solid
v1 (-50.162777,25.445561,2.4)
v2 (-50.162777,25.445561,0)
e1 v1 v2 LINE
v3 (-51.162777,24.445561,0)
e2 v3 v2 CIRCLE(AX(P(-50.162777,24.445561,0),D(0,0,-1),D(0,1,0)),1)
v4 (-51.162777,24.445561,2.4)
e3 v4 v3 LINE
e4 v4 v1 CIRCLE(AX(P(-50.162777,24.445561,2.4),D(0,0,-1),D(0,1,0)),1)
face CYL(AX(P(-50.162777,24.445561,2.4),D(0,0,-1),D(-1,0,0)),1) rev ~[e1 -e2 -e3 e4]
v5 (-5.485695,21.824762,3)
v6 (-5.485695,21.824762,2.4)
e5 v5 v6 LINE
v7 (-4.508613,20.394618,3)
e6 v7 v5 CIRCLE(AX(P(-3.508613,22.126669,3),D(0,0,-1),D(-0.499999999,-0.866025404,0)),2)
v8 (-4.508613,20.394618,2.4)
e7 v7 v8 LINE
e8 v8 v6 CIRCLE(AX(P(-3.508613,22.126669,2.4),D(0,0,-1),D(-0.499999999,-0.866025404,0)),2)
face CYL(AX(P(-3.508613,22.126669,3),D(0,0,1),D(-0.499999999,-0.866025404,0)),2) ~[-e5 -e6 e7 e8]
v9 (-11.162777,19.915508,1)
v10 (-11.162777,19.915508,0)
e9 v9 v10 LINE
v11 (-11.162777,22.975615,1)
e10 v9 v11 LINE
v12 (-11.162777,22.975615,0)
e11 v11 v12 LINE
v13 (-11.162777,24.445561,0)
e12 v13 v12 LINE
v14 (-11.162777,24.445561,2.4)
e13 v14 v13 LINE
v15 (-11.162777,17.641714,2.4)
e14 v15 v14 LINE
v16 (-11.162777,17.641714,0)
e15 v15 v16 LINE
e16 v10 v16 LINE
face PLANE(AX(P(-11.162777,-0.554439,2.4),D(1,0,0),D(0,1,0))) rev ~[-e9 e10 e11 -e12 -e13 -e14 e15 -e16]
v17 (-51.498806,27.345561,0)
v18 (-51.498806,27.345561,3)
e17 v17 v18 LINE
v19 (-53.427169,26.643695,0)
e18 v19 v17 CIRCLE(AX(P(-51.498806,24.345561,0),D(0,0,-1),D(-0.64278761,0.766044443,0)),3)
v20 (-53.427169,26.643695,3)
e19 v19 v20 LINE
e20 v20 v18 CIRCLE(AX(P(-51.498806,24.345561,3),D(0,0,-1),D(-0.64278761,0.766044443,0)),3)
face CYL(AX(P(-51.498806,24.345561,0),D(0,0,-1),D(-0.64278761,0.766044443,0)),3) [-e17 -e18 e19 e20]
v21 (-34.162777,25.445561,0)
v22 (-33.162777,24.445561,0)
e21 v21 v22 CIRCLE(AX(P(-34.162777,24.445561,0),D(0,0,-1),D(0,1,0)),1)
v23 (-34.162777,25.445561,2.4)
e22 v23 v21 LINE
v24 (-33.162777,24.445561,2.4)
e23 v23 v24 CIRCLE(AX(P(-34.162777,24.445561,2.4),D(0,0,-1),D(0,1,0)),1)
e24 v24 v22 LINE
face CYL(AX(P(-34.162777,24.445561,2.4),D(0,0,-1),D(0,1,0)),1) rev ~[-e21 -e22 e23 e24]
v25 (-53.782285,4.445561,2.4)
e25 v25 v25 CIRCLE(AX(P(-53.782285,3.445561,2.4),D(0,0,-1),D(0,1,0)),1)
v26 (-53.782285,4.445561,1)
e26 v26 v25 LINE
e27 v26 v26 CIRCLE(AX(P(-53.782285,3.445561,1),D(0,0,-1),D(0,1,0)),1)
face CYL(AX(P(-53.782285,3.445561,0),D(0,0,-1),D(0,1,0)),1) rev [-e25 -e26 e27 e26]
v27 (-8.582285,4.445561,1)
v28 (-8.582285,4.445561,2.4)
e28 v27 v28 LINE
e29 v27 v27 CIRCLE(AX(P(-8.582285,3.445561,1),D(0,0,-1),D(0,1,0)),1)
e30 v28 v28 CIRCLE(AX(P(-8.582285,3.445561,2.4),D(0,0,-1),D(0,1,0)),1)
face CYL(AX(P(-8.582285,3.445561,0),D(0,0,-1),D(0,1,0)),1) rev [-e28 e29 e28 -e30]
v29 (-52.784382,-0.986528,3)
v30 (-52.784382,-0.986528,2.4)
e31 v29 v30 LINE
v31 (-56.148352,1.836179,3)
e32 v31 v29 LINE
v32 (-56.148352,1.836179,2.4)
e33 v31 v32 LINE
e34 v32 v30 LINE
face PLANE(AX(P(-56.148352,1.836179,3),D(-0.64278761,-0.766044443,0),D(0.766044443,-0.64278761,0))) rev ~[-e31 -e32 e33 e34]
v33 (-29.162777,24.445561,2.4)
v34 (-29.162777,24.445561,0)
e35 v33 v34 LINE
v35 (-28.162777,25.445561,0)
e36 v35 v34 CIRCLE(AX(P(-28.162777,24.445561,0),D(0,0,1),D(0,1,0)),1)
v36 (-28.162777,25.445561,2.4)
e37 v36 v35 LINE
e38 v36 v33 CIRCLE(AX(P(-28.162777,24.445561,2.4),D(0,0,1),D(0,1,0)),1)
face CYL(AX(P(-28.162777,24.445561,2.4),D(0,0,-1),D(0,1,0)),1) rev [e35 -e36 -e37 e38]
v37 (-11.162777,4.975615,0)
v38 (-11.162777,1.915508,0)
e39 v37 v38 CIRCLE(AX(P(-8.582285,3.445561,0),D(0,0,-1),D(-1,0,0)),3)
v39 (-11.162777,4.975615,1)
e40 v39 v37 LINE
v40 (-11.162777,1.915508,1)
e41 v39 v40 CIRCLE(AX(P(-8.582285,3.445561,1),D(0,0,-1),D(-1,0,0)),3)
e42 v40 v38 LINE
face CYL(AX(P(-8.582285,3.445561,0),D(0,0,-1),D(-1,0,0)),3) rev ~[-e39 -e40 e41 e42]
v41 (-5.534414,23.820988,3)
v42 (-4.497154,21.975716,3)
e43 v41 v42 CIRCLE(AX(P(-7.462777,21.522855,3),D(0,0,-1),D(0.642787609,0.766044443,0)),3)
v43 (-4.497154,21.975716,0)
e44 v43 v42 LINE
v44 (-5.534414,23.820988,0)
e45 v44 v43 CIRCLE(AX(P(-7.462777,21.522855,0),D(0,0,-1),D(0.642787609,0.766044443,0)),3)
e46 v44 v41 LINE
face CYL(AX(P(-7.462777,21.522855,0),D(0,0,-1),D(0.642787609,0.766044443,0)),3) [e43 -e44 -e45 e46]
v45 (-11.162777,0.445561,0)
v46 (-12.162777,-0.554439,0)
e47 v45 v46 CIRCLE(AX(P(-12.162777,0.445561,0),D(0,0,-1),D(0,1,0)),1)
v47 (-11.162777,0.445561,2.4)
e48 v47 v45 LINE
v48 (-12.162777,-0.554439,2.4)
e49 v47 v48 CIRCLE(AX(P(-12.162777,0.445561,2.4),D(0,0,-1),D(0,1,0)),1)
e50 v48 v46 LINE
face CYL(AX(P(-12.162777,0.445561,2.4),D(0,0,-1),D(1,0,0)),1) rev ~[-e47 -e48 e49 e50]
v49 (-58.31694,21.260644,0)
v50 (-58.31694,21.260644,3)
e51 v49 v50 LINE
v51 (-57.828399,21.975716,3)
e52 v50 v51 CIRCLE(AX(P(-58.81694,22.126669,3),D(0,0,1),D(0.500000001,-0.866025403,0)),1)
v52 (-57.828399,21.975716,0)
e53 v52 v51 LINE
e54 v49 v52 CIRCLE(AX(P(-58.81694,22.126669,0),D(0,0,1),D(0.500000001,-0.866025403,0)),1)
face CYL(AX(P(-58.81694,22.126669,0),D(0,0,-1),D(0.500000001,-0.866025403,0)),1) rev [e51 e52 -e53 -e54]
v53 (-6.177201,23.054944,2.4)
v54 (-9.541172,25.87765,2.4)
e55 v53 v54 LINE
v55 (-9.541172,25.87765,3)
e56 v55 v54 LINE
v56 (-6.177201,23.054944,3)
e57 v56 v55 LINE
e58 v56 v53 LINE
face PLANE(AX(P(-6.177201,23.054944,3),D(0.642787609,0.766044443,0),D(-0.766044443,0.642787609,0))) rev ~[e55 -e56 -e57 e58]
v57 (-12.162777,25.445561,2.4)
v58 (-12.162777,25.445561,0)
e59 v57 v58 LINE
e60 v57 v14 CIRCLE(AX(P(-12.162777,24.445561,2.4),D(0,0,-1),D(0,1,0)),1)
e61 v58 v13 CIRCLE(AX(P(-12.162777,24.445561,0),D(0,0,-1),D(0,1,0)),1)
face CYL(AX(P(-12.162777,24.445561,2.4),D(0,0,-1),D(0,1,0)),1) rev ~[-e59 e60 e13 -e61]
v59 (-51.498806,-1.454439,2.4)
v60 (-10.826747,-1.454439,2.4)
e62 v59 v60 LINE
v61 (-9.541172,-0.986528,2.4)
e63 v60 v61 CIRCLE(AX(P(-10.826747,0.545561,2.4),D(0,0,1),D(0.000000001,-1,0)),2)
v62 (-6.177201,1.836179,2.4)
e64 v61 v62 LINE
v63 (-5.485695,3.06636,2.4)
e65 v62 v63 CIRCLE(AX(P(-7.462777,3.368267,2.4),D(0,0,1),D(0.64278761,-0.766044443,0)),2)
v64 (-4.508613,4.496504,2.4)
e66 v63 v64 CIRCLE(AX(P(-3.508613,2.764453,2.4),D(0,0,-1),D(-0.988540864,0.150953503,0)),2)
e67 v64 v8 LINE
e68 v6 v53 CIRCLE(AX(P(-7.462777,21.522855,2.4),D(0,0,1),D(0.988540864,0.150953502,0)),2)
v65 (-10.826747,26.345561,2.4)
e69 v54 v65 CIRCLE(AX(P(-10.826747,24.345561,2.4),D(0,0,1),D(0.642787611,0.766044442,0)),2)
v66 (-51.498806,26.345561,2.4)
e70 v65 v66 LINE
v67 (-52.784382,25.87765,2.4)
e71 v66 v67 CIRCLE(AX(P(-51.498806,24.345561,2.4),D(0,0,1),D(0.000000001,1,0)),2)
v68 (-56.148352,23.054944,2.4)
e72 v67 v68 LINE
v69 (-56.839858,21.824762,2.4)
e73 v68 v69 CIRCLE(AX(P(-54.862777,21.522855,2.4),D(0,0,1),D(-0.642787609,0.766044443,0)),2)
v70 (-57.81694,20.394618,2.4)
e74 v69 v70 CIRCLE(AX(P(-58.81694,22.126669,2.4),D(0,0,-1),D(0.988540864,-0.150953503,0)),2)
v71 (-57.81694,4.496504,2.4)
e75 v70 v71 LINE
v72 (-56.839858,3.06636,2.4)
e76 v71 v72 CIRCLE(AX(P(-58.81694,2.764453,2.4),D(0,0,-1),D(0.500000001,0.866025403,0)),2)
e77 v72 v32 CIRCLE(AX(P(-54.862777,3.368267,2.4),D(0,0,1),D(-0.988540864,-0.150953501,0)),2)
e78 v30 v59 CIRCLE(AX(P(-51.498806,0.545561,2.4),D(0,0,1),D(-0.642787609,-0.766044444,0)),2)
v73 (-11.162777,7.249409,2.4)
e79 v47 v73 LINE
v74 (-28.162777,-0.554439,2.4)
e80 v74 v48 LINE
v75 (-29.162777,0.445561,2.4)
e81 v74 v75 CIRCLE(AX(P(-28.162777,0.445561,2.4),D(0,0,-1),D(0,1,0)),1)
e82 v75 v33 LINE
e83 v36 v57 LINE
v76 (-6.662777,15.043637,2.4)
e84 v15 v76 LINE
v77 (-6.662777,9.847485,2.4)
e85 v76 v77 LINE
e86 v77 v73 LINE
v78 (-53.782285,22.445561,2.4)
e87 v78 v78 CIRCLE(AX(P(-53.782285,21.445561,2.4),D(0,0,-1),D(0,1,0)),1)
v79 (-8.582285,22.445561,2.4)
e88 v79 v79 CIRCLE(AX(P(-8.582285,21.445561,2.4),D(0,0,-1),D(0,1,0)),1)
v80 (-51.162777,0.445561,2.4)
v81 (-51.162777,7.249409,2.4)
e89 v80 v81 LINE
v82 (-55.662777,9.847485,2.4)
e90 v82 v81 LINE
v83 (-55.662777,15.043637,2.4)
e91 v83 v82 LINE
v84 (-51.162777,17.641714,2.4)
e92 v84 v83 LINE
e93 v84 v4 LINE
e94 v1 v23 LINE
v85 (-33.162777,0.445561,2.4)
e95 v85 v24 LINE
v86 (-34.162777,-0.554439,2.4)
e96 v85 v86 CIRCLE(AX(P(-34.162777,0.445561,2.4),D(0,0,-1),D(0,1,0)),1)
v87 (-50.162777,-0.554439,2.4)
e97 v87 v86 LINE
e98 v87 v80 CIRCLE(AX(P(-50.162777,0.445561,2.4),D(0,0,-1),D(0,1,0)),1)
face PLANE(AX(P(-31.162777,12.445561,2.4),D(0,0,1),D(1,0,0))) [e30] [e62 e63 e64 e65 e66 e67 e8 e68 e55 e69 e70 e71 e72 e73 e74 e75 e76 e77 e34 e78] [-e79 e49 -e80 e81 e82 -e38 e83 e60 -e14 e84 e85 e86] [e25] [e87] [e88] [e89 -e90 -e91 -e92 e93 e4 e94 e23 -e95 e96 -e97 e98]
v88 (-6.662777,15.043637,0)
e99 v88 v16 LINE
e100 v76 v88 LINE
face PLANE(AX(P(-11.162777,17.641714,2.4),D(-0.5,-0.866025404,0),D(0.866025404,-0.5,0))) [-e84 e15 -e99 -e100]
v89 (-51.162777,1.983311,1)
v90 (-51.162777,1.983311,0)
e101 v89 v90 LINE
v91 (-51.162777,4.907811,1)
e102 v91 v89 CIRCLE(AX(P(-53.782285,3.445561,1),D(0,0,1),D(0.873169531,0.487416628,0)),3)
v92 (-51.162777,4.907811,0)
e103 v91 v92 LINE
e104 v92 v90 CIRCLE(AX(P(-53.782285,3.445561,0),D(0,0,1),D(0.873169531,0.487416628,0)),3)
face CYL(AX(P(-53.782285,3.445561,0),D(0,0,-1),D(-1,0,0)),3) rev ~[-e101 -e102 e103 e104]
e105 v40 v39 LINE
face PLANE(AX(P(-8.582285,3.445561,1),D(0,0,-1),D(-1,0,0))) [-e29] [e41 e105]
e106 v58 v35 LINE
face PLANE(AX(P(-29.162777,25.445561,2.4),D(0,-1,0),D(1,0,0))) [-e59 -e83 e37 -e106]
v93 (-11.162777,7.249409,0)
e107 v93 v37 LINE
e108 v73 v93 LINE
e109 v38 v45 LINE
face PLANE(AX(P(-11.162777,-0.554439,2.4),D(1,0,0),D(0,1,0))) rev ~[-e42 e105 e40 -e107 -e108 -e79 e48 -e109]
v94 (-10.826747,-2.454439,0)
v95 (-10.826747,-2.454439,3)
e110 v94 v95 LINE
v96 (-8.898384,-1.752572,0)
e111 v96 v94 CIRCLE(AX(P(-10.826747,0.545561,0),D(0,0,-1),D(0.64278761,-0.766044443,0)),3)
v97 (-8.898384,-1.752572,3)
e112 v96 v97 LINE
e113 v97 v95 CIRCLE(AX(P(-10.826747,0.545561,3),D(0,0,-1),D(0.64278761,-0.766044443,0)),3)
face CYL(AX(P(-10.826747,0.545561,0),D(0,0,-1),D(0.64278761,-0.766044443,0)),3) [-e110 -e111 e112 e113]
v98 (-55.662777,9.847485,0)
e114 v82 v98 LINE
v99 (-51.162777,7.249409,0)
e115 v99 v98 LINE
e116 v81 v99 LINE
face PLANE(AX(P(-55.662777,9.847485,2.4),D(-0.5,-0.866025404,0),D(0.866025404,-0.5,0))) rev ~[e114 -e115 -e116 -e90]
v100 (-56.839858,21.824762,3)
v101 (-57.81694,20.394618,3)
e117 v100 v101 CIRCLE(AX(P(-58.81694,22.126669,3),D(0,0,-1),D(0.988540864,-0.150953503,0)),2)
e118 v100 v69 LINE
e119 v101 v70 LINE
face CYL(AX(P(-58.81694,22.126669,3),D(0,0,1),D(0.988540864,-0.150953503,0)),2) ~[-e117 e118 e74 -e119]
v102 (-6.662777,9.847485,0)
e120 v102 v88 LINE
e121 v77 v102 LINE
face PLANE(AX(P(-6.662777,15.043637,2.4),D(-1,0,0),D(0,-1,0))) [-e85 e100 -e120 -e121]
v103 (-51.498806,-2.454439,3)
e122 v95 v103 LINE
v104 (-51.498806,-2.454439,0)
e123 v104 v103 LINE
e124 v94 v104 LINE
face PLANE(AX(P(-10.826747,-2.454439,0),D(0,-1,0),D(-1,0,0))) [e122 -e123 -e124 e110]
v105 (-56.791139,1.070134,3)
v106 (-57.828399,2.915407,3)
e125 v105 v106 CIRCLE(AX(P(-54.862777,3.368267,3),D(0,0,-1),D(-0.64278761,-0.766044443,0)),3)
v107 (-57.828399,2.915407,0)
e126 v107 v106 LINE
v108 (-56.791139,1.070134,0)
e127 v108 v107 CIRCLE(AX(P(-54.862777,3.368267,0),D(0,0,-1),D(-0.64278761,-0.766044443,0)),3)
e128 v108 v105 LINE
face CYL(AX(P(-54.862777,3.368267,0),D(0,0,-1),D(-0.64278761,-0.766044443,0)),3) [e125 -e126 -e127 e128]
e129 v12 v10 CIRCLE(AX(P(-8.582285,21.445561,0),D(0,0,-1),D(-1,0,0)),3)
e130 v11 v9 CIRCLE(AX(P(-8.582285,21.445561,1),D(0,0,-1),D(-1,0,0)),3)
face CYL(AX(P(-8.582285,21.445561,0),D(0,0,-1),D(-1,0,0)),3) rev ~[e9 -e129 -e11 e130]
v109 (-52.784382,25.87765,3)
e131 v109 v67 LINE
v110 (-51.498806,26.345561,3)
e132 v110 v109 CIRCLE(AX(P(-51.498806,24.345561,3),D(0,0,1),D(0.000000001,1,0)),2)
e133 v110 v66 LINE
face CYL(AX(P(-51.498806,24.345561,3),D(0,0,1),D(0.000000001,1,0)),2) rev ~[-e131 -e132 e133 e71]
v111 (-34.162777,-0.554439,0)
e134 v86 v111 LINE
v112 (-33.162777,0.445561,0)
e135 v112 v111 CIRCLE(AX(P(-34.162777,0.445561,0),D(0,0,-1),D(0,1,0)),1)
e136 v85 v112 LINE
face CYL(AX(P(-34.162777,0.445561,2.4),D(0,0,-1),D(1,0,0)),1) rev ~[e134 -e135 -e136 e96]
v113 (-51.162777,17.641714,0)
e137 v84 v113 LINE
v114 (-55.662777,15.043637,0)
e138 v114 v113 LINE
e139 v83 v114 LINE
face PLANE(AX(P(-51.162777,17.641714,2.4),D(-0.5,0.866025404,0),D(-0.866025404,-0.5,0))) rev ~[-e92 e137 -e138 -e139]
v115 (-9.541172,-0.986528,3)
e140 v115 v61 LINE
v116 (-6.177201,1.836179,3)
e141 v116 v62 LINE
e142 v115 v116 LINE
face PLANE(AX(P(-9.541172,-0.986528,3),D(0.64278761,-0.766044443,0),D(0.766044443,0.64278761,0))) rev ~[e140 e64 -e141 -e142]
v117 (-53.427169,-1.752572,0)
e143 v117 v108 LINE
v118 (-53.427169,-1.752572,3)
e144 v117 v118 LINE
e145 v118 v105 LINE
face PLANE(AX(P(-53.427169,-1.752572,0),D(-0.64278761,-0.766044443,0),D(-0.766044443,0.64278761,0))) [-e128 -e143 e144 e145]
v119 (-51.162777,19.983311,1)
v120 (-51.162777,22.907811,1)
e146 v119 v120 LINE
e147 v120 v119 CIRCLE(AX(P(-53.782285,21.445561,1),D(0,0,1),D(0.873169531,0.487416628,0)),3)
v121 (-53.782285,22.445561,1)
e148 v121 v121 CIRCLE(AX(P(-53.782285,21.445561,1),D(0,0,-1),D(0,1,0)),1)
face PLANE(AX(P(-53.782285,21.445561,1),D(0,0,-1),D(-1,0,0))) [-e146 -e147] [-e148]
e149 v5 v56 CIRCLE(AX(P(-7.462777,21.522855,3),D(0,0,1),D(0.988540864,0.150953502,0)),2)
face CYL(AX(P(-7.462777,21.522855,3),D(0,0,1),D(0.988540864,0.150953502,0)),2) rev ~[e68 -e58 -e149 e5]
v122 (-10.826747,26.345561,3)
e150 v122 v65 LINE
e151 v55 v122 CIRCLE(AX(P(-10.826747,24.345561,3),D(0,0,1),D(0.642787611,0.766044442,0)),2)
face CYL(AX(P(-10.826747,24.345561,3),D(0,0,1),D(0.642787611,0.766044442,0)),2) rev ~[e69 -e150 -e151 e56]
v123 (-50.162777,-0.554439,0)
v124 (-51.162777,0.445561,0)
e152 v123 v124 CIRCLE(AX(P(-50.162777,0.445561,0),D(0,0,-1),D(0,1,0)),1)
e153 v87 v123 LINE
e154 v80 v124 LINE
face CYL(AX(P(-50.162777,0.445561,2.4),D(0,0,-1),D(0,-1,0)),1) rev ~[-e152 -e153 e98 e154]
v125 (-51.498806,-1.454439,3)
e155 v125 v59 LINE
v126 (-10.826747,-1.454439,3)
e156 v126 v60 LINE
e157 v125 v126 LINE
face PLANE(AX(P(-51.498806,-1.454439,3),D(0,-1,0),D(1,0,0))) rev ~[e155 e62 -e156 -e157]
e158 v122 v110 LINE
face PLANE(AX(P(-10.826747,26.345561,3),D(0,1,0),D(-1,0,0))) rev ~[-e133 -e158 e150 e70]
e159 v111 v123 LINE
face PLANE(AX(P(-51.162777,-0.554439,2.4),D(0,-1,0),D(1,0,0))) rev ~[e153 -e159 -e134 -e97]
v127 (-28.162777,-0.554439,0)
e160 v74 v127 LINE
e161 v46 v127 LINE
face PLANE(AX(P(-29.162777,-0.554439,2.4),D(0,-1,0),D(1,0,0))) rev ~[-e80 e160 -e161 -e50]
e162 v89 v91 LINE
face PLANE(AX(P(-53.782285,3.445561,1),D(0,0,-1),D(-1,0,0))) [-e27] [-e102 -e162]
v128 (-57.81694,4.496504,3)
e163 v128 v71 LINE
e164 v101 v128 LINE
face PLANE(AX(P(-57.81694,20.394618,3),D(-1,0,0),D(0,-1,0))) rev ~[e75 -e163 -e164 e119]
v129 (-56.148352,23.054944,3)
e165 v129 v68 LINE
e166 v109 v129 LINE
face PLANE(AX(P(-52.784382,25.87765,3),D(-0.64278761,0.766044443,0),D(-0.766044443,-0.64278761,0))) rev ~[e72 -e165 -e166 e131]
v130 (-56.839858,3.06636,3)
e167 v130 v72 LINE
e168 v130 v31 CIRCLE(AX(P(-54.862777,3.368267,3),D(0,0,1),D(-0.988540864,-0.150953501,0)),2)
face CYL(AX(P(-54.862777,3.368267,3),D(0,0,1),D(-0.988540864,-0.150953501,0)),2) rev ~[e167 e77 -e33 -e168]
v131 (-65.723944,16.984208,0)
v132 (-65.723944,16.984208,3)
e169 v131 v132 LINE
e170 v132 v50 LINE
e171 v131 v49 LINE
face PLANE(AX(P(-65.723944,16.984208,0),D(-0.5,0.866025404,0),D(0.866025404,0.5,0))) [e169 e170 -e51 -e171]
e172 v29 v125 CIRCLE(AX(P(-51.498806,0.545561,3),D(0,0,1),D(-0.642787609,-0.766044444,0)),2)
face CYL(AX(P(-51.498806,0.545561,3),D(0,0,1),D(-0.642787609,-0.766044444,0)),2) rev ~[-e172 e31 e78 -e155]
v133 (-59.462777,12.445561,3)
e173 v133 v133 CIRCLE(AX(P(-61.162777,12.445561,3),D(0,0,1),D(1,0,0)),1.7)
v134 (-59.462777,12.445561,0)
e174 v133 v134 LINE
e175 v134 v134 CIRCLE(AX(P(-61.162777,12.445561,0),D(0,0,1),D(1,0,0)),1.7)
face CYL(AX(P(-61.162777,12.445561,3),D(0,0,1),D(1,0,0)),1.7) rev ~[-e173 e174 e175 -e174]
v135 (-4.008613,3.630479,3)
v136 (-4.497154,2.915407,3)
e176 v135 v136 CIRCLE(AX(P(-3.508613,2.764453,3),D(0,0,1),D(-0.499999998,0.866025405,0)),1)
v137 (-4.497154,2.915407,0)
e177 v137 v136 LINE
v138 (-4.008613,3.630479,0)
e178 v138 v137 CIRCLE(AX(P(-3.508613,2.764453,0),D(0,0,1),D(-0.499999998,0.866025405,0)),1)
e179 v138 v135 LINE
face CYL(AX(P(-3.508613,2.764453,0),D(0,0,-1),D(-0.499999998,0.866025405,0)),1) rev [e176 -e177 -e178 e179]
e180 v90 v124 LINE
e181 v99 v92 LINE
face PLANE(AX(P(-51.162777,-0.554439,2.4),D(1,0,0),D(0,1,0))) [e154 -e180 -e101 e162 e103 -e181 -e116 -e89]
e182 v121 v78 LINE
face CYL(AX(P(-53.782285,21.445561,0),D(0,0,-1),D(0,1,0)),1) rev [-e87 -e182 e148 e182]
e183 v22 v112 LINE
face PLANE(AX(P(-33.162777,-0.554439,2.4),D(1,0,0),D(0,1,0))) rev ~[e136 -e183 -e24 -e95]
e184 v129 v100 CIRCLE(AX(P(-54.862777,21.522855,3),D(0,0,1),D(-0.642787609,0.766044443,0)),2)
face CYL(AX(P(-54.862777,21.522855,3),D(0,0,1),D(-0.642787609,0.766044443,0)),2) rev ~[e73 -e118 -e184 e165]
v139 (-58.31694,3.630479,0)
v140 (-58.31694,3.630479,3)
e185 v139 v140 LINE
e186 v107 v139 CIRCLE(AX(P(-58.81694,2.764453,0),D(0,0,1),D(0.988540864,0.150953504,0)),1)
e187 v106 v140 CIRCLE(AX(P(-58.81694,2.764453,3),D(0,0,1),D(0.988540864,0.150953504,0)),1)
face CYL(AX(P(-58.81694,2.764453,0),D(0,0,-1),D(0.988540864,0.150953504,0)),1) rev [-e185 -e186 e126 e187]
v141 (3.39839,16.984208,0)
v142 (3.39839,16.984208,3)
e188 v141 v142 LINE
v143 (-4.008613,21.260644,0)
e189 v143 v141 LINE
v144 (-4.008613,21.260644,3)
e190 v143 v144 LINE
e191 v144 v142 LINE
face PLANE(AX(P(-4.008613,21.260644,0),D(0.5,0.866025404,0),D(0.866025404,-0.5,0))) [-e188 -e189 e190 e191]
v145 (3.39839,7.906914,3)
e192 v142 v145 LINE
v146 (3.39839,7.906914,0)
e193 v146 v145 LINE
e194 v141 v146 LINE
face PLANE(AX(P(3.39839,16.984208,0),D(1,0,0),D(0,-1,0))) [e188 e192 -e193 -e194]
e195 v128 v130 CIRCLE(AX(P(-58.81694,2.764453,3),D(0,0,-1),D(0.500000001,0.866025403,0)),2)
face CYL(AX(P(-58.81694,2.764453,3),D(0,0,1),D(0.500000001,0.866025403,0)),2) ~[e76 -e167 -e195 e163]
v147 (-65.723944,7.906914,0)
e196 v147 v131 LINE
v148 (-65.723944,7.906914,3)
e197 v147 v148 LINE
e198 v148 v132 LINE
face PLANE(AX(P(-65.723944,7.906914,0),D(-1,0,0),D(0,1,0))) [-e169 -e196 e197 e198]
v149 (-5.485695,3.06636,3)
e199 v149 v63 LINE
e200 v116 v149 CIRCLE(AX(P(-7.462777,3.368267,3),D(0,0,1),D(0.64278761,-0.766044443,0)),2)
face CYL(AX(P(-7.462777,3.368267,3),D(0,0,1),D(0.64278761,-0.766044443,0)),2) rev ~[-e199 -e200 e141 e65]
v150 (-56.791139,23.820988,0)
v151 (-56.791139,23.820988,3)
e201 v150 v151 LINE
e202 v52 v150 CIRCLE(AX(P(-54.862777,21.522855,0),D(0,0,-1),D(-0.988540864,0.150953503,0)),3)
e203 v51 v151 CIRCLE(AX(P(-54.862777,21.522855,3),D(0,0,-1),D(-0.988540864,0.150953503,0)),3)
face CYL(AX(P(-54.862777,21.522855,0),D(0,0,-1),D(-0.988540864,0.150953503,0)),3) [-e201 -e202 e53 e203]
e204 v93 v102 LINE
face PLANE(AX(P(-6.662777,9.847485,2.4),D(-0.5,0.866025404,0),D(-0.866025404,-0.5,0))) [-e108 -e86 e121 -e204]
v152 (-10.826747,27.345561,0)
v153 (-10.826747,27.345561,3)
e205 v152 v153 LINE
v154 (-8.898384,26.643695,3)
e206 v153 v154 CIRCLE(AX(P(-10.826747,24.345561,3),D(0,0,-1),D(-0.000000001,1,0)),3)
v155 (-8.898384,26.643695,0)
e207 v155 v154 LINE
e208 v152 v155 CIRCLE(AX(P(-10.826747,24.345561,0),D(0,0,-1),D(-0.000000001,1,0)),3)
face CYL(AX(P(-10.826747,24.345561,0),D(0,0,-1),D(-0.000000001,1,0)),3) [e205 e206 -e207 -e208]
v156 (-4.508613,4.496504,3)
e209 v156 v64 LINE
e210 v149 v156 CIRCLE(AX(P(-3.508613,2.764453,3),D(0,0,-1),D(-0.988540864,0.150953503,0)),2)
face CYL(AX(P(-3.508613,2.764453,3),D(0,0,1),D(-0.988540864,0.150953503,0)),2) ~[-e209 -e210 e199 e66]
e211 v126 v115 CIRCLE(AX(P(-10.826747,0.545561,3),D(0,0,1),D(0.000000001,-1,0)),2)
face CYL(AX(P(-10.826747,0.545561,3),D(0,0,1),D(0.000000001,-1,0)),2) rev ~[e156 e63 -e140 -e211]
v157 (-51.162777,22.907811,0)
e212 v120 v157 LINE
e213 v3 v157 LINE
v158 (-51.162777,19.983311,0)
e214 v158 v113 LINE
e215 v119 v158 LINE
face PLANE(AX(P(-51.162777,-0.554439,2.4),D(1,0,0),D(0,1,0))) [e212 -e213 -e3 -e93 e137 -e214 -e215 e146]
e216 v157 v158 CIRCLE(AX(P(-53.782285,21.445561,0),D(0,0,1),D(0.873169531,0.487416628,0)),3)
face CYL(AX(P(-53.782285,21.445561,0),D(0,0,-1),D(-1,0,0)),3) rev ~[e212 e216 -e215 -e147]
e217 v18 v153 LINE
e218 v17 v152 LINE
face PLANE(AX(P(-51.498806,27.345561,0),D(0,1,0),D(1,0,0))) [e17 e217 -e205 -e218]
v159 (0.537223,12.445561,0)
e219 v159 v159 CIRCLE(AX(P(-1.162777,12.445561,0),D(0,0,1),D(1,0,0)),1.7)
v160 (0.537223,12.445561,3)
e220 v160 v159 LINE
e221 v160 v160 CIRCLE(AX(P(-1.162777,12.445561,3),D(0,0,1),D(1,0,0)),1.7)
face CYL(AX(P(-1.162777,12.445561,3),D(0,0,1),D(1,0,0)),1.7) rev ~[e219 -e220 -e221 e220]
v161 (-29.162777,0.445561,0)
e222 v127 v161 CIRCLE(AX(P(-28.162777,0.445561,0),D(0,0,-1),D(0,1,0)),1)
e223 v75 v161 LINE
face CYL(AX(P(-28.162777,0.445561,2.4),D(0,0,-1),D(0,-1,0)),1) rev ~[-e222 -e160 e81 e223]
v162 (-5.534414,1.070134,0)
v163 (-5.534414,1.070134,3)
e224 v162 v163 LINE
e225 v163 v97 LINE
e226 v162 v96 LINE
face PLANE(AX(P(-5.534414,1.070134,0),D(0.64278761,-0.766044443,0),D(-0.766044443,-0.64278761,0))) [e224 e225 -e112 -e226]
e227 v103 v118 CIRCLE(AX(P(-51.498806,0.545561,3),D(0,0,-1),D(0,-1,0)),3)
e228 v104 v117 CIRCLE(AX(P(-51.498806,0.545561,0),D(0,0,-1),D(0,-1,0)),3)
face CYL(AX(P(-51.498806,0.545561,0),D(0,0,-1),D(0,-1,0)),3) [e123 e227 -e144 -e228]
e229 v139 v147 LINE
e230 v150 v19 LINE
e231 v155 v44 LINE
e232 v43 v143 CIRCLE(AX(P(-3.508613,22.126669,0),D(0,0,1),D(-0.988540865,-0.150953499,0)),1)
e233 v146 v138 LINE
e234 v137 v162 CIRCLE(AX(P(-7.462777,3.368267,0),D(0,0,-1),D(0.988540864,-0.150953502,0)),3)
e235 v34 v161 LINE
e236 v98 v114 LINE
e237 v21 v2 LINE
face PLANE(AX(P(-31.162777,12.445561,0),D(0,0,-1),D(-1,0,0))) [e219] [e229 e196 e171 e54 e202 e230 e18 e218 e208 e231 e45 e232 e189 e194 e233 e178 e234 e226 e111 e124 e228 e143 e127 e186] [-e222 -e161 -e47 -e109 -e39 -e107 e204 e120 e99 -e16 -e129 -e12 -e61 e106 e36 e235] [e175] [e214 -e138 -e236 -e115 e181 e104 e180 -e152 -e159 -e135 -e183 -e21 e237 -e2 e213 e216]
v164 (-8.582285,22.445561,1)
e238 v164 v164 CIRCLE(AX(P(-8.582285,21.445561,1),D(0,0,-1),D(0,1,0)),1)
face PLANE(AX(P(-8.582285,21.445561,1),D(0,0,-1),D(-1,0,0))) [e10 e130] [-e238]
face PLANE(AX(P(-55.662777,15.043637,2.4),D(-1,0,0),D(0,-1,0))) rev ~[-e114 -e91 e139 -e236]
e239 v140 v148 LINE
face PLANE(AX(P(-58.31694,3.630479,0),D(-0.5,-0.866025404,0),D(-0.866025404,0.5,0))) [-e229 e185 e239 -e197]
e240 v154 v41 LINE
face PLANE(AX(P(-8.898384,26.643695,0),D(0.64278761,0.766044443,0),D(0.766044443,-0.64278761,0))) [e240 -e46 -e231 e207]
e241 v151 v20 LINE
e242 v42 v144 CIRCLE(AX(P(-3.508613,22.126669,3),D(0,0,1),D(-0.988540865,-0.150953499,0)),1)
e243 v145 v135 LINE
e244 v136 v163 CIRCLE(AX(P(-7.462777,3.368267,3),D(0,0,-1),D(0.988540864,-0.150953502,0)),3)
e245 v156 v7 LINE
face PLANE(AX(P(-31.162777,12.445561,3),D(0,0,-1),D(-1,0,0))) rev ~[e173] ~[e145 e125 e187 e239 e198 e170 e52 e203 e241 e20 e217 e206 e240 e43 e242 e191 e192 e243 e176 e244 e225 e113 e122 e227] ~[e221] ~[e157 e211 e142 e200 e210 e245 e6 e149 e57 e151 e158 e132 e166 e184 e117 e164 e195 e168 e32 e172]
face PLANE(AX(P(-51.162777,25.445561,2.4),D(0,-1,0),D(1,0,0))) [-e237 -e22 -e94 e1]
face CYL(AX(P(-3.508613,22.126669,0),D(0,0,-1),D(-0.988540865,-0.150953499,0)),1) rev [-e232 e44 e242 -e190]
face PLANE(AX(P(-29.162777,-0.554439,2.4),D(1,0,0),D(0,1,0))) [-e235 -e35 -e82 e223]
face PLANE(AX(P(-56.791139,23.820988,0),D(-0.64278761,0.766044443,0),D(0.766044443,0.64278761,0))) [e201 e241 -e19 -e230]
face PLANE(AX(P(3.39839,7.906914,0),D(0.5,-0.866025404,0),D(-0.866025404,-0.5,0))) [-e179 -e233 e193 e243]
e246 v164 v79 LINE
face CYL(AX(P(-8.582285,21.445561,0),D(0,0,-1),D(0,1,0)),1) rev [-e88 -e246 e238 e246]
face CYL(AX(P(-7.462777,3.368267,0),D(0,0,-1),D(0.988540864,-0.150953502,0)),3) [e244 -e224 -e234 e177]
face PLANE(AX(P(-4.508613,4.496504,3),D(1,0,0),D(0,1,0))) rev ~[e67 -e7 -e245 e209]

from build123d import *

# Parameters (mm, degrees)
EXTRUDE_2_DEPTH      = 3
CUT_EXTRUDE_1_DEPTH  = 0.6
SKETCH_6_W           = 18
SKETCH_6_H           = 26
CUT_EXTRUDE_4_DEPTH  = 3.4
FILLET_1_R           = 1
CUT_EXTRUDE_6_DEPTH  = 3.4
FILLET_2_R           = 1
SKETCH_22_R          = 1.7
CUT_EXTRUDE_18_DEPTH = 4
SKETCH_23_R          = 3
CUT_EXTRUDE_19_DEPTH = 1


with BuildPart() as part:
    # 草图1 → 凸台-拉伸2 (new body)
    with BuildSketch(Plane.XY):
        with BuildLine():
            ThreePointArc((-4.008613189, 3.630478791), (-4.334307099, 3.328571786), (-4.497154053, 2.91540689))
            ThreePointArc((-4.497154053, 2.91540689), (-4.847622487, 1.898244021), (-5.534413817, 1.070134068))
            Line((-5.534413817, 1.070134068), (-8.898384051, -1.752572115))
            ThreePointArc((-8.898384051, -1.752572115), (-9.80068645, -2.273516648), (-10.82674688, -2.454438786))
            Line((-10.82674688, -2.454438786), (-51.498806412, -2.454438786))
            ThreePointArc((-51.498806412, -2.454438786), (-52.524866842, -2.273516648), (-53.427169241, -1.752572115))
            Line((-53.427169241, -1.752572115), (-56.791139475, 1.070134068))
            ThreePointArc((-56.791139475, 1.070134068), (-57.477930804, 1.898244021), (-57.828399238, 2.91540689))
            ThreePointArc((-57.828399238, 2.91540689), (-57.991246193, 3.328571786), (-58.316940102, 3.630478791))
            Line((-58.316940102, 3.630478791), (-65.723943689, 7.906914306))
            Line((-65.723943689, 7.906914306), (-65.723943689, 16.984208123))
            Line((-65.723943689, 16.984208123), (-58.316940102, 21.260643637))
            ThreePointArc((-58.316940102, 21.260643637), (-57.991246193, 21.562550642), (-57.828399238, 21.975715539))
            ThreePointArc((-57.828399238, 21.975715539), (-57.477930804, 22.992878408), (-56.791139475, 23.820988361))
            Line((-56.791139475, 23.820988361), (-53.427169241, 26.643694544))
            ThreePointArc((-53.427169241, 26.643694544), (-52.524866842, 27.164639077), (-51.498806412, 27.345561214))
            Line((-51.498806412, 27.345561214), (-10.82674688, 27.345561214))
            ThreePointArc((-10.82674688, 27.345561214), (-9.80068645, 27.164639077), (-8.898384051, 26.643694544))
            Line((-8.898384051, 26.643694544), (-5.534413817, 23.820988361))
            ThreePointArc((-5.534413817, 23.820988361), (-4.847622487, 22.992878408), (-4.497154053, 21.975715539))
            ThreePointArc((-4.497154053, 21.975715539), (-4.334307099, 21.562550642), (-4.008613189, 21.260643637))
            Line((-4.008613189, 21.260643637), (3.398390397, 16.984208123))
            Line((3.398390397, 16.984208123), (3.398390397, 7.906914306))
            Line((3.398390397, 7.906914306), (-4.008613189, 3.630478791))
        make_face()
        with BuildLine():
            ThreePointArc((-51.498806412, 26.345561214), (-52.182846698, 26.224946456), (-52.784381631, 25.8776501))
            Line((-52.784381631, 25.8776501), (-56.148351865, 23.054943918))
            ThreePointArc((-56.148351865, 23.054943918), (-56.67539222, 22.368091555), (-56.862776646, 21.522855031))
            Line((-56.862776646, 21.522855031), (-56.862776646, 3.368267397))
            ThreePointArc((-56.862776646, 3.368267397), (-56.67539222, 2.523030874), (-56.148351865, 1.836178511))
            Line((-56.148351865, 1.836178511), (-52.784381631, -0.986527672))
            ThreePointArc((-52.784381631, -0.986527672), (-52.182846698, -1.333824027), (-51.498806412, -1.454438786))
            Line((-51.498806412, -1.454438786), (-10.82674688, -1.454438786))
            ThreePointArc((-10.82674688, -1.454438786), (-10.142706593, -1.333824027), (-9.541171661, -0.986527672))
            Line((-9.541171661, -0.986527672), (-6.177201426, 1.836178511))
            ThreePointArc((-6.177201426, 1.836178511), (-5.650161072, 2.523030874), (-5.462776646, 3.368267397))
            Line((-5.462776646, 3.368267397), (-5.462776646, 21.522855031))
            ThreePointArc((-5.462776646, 21.522855031), (-5.650161072, 22.368091555), (-6.177201426, 23.054943918))
            Line((-6.177201426, 23.054943918), (-9.541171661, 25.8776501))
            ThreePointArc((-9.541171661, 25.8776501), (-10.142706593, 26.224946456), (-10.82674688, 26.345561214))
            Line((-10.82674688, 26.345561214), (-51.498806412, 26.345561214))
        make_face(mode=Mode.SUBTRACT)
        with BuildLine():
            Line((-10.82674688, 26.345561214), (-51.498806412, 26.345561214))
            ThreePointArc((-51.498806412, 26.345561214), (-52.182846698, 26.224946456), (-52.784381631, 25.8776501))
            Line((-52.784381631, 25.8776501), (-56.148351865, 23.054943918))
            ThreePointArc((-56.148351865, 23.054943918), (-56.67539222, 22.368091555), (-56.862776646, 21.522855031))
            Line((-56.862776646, 21.522855031), (-56.862776646, 3.368267397))
            ThreePointArc((-56.862776646, 3.368267397), (-56.67539222, 2.523030874), (-56.148351865, 1.836178511))
            Line((-56.148351865, 1.836178511), (-52.784381631, -0.986527672))
            ThreePointArc((-52.784381631, -0.986527672), (-52.182846698, -1.333824027), (-51.498806412, -1.454438786))
            Line((-51.498806412, -1.454438786), (-10.82674688, -1.454438786))
            ThreePointArc((-10.82674688, -1.454438786), (-10.142706593, -1.333824027), (-9.541171661, -0.986527672))
            Line((-9.541171661, -0.986527672), (-6.177201426, 1.836178511))
            ThreePointArc((-6.177201426, 1.836178511), (-5.650161072, 2.523030874), (-5.462776646, 3.368267397))
            Line((-5.462776646, 3.368267397), (-5.462776646, 21.522855031))
            ThreePointArc((-5.462776646, 21.522855031), (-5.650161072, 22.368091555), (-6.177201426, 23.054943918))
            Line((-6.177201426, 23.054943918), (-9.541171661, 25.8776501))
            ThreePointArc((-9.541171661, 25.8776501), (-10.142706593, 26.224946456), (-10.82674688, 26.345561214))
        make_face()
        with BuildLine():
            ThreePointArc((-53.78228524, 2.445561214), (-52.78228524, 3.445561214), (-53.78228524, 4.445561214))
            ThreePointArc((-53.78228524, 4.445561214), (-54.78228524, 3.445561214), (-53.78228524, 2.445561214))
        make_face(mode=Mode.SUBTRACT)
        with BuildLine():
            ThreePointArc((-53.78228524, 20.445561214), (-52.78228524, 21.445561214), (-53.78228524, 22.445561214))
            ThreePointArc((-53.78228524, 22.445561214), (-54.78228524, 21.445561214), (-53.78228524, 20.445561214))
        make_face(mode=Mode.SUBTRACT)
        with BuildLine():
            ThreePointArc((-8.58228524, 2.445561214), (-7.58228524, 3.445561214), (-8.58228524, 4.445561214))
            ThreePointArc((-8.58228524, 4.445561214), (-9.58228524, 3.445561214), (-8.58228524, 2.445561214))
        make_face(mode=Mode.SUBTRACT)
        with BuildLine():
            ThreePointArc((-8.58228524, 20.445561214), (-7.58228524, 21.445561214), (-8.58228524, 22.445561214))
            ThreePointArc((-8.58228524, 22.445561214), (-9.58228524, 21.445561214), (-8.58228524, 20.445561214))
        make_face(mode=Mode.SUBTRACT)
    extrude(amount=EXTRUDE_2_DEPTH)

    # 草图4 → 切除-拉伸1 (cut)
    with BuildSketch(Plane.XY.offset(3)):
        with BuildLine():
            Line((-56.148351865, 1.836178511), (-52.784381631, -0.986527672))
            ThreePointArc((-52.784381631, -0.986527672), (-52.182846698, -1.333824027), (-51.498806412, -1.454438786))
            Line((-51.498806412, -1.454438786), (-10.82674688, -1.454438786))
            ThreePointArc((-10.82674688, -1.454438786), (-10.142706593, -1.333824027), (-9.541171661, -0.986527672))
            Line((-9.541171661, -0.986527672), (-6.177201426, 1.836178511))
            ThreePointArc((-6.177201426, 1.836178511), (-5.71934054, 2.388251813), (-5.485694918, 3.066360392))
            ThreePointArc((-5.485694918, 3.066360392), (-5.160001008, 3.892690185), (-4.508613189, 4.496504195))
            Line((-4.508613189, 4.496504195), (-4.508613189, 20.394618234))
            ThreePointArc((-4.508613189, 20.394618234), (-5.160001008, 20.998432243), (-5.485694918, 21.824762036))
            ThreePointArc((-5.485694918, 21.824762036), (-5.71934054, 22.502870615), (-6.177201426, 23.054943918))
            Line((-6.177201426, 23.054943918), (-9.541171661, 25.8776501))
            ThreePointArc((-9.541171661, 25.8776501), (-10.142706593, 26.224946456), (-10.82674688, 26.345561214))
            Line((-10.82674688, 26.345561214), (-51.498806412, 26.345561214))
            ThreePointArc((-51.498806412, 26.345561214), (-52.182846698, 26.224946456), (-52.784381631, 25.8776501))
            Line((-52.784381631, 25.8776501), (-56.148351865, 23.054943918))
            ThreePointArc((-56.148351865, 23.054943918), (-56.606212752, 22.502870615), (-56.839858374, 21.824762036))
            ThreePointArc((-56.839858374, 21.824762036), (-57.165552284, 20.998432243), (-57.816940102, 20.394618234))
            Line((-57.816940102, 20.394618234), (-57.816940102, 4.496504195))
            ThreePointArc((-57.816940102, 4.496504195), (-57.165552284, 3.892690185), (-56.839858374, 3.066360392))
            ThreePointArc((-56.839858374, 3.066360392), (-56.606212752, 2.388251813), (-56.148351865, 1.836178511))
        make_face()
    extrude(amount=-CUT_EXTRUDE_1_DEPTH, mode=Mode.SUBTRACT)

    # 草图6 → 切除-拉伸4 (cut, through all)
    with BuildSketch(Plane.XY.offset(2.4)):
        with Locations((-20.162776646, 12.445561214)):
            Rectangle(SKETCH_6_W, SKETCH_6_H)
        with Locations((-42.162776646, 12.445561214)):
            Rectangle(SKETCH_6_W, SKETCH_6_H)
    extrude(amount=-CUT_EXTRUDE_4_DEPTH, mode=Mode.SUBTRACT)

    # 圆角1
    fillet_1_edges = [part.edges().sort_by_distance(p)[0] for p in [
        (-29.162776646, -0.554438786, 1.2),
        (-29.162776646, 25.445561214, 1.2),
        (-33.162776646, 25.445561214, 1.2),
        (-33.162776646, -0.554438786, 1.2),
    ]]
    fillet(fillet_1_edges, radius=FILLET_1_R)

    # 草图10 → 切除-拉伸6 (cut, through all)
    with BuildSketch(Plane.XY.offset(2.4)):
        Polygon((-11.162776646, 7.249408791), (-11.162776646, 17.641713637), (-6.662776646, 15.043637426), (-6.662776646, 9.847485003), align=None)
        Polygon((-51.162776646, 7.249408791), (-51.162776646, 17.641713637), (-55.662776646, 15.043637426), (-55.662776646, 9.847485003), align=None)
    extrude(amount=-CUT_EXTRUDE_6_DEPTH, mode=Mode.SUBTRACT)

    # 圆角2
    fillet_2_edges = [part.edges().sort_by_distance(p)[0] for p in [
        (-11.162776646, 25.445561214, 1.2),
        (-11.162776646, -0.554438786, 1.2),
        (-51.162776646, -0.554438786, 1.2),
        (-51.162776646, 25.445561214, 1.2),
    ]]
    fillet(fillet_2_edges, radius=FILLET_2_R)

    # 草图22 → 切除-拉伸18 (cut, through all)
    with BuildSketch(Plane.XY.offset(3)):
        with Locations((-1.162776646, 12.445561214)):
            Circle(SKETCH_22_R)
        with Locations((-61.162776646, 12.445561214)):
            Circle(SKETCH_22_R)
    extrude(amount=-CUT_EXTRUDE_18_DEPTH, mode=Mode.SUBTRACT)

    # 草图23 → 切除-拉伸19 (cut)
    with BuildSketch(Plane(origin=(0, 0, 0), x_dir=(-1, 0, 0), z_dir=(0, 0, -1))):
        with Locations((53.78228524, 3.445561214)):
            Circle(SKETCH_23_R)
        with Locations((53.78228524, 21.445561214)):
            Circle(SKETCH_23_R)
        with Locations((8.58228524, 21.445561214)):
            Circle(SKETCH_23_R)
        with Locations((8.58228524, 3.445561214)):
            Circle(SKETCH_23_R)
    extrude(amount=-CUT_EXTRUDE_19_DEPTH, mode=Mode.SUBTRACT)


solid = part.part
